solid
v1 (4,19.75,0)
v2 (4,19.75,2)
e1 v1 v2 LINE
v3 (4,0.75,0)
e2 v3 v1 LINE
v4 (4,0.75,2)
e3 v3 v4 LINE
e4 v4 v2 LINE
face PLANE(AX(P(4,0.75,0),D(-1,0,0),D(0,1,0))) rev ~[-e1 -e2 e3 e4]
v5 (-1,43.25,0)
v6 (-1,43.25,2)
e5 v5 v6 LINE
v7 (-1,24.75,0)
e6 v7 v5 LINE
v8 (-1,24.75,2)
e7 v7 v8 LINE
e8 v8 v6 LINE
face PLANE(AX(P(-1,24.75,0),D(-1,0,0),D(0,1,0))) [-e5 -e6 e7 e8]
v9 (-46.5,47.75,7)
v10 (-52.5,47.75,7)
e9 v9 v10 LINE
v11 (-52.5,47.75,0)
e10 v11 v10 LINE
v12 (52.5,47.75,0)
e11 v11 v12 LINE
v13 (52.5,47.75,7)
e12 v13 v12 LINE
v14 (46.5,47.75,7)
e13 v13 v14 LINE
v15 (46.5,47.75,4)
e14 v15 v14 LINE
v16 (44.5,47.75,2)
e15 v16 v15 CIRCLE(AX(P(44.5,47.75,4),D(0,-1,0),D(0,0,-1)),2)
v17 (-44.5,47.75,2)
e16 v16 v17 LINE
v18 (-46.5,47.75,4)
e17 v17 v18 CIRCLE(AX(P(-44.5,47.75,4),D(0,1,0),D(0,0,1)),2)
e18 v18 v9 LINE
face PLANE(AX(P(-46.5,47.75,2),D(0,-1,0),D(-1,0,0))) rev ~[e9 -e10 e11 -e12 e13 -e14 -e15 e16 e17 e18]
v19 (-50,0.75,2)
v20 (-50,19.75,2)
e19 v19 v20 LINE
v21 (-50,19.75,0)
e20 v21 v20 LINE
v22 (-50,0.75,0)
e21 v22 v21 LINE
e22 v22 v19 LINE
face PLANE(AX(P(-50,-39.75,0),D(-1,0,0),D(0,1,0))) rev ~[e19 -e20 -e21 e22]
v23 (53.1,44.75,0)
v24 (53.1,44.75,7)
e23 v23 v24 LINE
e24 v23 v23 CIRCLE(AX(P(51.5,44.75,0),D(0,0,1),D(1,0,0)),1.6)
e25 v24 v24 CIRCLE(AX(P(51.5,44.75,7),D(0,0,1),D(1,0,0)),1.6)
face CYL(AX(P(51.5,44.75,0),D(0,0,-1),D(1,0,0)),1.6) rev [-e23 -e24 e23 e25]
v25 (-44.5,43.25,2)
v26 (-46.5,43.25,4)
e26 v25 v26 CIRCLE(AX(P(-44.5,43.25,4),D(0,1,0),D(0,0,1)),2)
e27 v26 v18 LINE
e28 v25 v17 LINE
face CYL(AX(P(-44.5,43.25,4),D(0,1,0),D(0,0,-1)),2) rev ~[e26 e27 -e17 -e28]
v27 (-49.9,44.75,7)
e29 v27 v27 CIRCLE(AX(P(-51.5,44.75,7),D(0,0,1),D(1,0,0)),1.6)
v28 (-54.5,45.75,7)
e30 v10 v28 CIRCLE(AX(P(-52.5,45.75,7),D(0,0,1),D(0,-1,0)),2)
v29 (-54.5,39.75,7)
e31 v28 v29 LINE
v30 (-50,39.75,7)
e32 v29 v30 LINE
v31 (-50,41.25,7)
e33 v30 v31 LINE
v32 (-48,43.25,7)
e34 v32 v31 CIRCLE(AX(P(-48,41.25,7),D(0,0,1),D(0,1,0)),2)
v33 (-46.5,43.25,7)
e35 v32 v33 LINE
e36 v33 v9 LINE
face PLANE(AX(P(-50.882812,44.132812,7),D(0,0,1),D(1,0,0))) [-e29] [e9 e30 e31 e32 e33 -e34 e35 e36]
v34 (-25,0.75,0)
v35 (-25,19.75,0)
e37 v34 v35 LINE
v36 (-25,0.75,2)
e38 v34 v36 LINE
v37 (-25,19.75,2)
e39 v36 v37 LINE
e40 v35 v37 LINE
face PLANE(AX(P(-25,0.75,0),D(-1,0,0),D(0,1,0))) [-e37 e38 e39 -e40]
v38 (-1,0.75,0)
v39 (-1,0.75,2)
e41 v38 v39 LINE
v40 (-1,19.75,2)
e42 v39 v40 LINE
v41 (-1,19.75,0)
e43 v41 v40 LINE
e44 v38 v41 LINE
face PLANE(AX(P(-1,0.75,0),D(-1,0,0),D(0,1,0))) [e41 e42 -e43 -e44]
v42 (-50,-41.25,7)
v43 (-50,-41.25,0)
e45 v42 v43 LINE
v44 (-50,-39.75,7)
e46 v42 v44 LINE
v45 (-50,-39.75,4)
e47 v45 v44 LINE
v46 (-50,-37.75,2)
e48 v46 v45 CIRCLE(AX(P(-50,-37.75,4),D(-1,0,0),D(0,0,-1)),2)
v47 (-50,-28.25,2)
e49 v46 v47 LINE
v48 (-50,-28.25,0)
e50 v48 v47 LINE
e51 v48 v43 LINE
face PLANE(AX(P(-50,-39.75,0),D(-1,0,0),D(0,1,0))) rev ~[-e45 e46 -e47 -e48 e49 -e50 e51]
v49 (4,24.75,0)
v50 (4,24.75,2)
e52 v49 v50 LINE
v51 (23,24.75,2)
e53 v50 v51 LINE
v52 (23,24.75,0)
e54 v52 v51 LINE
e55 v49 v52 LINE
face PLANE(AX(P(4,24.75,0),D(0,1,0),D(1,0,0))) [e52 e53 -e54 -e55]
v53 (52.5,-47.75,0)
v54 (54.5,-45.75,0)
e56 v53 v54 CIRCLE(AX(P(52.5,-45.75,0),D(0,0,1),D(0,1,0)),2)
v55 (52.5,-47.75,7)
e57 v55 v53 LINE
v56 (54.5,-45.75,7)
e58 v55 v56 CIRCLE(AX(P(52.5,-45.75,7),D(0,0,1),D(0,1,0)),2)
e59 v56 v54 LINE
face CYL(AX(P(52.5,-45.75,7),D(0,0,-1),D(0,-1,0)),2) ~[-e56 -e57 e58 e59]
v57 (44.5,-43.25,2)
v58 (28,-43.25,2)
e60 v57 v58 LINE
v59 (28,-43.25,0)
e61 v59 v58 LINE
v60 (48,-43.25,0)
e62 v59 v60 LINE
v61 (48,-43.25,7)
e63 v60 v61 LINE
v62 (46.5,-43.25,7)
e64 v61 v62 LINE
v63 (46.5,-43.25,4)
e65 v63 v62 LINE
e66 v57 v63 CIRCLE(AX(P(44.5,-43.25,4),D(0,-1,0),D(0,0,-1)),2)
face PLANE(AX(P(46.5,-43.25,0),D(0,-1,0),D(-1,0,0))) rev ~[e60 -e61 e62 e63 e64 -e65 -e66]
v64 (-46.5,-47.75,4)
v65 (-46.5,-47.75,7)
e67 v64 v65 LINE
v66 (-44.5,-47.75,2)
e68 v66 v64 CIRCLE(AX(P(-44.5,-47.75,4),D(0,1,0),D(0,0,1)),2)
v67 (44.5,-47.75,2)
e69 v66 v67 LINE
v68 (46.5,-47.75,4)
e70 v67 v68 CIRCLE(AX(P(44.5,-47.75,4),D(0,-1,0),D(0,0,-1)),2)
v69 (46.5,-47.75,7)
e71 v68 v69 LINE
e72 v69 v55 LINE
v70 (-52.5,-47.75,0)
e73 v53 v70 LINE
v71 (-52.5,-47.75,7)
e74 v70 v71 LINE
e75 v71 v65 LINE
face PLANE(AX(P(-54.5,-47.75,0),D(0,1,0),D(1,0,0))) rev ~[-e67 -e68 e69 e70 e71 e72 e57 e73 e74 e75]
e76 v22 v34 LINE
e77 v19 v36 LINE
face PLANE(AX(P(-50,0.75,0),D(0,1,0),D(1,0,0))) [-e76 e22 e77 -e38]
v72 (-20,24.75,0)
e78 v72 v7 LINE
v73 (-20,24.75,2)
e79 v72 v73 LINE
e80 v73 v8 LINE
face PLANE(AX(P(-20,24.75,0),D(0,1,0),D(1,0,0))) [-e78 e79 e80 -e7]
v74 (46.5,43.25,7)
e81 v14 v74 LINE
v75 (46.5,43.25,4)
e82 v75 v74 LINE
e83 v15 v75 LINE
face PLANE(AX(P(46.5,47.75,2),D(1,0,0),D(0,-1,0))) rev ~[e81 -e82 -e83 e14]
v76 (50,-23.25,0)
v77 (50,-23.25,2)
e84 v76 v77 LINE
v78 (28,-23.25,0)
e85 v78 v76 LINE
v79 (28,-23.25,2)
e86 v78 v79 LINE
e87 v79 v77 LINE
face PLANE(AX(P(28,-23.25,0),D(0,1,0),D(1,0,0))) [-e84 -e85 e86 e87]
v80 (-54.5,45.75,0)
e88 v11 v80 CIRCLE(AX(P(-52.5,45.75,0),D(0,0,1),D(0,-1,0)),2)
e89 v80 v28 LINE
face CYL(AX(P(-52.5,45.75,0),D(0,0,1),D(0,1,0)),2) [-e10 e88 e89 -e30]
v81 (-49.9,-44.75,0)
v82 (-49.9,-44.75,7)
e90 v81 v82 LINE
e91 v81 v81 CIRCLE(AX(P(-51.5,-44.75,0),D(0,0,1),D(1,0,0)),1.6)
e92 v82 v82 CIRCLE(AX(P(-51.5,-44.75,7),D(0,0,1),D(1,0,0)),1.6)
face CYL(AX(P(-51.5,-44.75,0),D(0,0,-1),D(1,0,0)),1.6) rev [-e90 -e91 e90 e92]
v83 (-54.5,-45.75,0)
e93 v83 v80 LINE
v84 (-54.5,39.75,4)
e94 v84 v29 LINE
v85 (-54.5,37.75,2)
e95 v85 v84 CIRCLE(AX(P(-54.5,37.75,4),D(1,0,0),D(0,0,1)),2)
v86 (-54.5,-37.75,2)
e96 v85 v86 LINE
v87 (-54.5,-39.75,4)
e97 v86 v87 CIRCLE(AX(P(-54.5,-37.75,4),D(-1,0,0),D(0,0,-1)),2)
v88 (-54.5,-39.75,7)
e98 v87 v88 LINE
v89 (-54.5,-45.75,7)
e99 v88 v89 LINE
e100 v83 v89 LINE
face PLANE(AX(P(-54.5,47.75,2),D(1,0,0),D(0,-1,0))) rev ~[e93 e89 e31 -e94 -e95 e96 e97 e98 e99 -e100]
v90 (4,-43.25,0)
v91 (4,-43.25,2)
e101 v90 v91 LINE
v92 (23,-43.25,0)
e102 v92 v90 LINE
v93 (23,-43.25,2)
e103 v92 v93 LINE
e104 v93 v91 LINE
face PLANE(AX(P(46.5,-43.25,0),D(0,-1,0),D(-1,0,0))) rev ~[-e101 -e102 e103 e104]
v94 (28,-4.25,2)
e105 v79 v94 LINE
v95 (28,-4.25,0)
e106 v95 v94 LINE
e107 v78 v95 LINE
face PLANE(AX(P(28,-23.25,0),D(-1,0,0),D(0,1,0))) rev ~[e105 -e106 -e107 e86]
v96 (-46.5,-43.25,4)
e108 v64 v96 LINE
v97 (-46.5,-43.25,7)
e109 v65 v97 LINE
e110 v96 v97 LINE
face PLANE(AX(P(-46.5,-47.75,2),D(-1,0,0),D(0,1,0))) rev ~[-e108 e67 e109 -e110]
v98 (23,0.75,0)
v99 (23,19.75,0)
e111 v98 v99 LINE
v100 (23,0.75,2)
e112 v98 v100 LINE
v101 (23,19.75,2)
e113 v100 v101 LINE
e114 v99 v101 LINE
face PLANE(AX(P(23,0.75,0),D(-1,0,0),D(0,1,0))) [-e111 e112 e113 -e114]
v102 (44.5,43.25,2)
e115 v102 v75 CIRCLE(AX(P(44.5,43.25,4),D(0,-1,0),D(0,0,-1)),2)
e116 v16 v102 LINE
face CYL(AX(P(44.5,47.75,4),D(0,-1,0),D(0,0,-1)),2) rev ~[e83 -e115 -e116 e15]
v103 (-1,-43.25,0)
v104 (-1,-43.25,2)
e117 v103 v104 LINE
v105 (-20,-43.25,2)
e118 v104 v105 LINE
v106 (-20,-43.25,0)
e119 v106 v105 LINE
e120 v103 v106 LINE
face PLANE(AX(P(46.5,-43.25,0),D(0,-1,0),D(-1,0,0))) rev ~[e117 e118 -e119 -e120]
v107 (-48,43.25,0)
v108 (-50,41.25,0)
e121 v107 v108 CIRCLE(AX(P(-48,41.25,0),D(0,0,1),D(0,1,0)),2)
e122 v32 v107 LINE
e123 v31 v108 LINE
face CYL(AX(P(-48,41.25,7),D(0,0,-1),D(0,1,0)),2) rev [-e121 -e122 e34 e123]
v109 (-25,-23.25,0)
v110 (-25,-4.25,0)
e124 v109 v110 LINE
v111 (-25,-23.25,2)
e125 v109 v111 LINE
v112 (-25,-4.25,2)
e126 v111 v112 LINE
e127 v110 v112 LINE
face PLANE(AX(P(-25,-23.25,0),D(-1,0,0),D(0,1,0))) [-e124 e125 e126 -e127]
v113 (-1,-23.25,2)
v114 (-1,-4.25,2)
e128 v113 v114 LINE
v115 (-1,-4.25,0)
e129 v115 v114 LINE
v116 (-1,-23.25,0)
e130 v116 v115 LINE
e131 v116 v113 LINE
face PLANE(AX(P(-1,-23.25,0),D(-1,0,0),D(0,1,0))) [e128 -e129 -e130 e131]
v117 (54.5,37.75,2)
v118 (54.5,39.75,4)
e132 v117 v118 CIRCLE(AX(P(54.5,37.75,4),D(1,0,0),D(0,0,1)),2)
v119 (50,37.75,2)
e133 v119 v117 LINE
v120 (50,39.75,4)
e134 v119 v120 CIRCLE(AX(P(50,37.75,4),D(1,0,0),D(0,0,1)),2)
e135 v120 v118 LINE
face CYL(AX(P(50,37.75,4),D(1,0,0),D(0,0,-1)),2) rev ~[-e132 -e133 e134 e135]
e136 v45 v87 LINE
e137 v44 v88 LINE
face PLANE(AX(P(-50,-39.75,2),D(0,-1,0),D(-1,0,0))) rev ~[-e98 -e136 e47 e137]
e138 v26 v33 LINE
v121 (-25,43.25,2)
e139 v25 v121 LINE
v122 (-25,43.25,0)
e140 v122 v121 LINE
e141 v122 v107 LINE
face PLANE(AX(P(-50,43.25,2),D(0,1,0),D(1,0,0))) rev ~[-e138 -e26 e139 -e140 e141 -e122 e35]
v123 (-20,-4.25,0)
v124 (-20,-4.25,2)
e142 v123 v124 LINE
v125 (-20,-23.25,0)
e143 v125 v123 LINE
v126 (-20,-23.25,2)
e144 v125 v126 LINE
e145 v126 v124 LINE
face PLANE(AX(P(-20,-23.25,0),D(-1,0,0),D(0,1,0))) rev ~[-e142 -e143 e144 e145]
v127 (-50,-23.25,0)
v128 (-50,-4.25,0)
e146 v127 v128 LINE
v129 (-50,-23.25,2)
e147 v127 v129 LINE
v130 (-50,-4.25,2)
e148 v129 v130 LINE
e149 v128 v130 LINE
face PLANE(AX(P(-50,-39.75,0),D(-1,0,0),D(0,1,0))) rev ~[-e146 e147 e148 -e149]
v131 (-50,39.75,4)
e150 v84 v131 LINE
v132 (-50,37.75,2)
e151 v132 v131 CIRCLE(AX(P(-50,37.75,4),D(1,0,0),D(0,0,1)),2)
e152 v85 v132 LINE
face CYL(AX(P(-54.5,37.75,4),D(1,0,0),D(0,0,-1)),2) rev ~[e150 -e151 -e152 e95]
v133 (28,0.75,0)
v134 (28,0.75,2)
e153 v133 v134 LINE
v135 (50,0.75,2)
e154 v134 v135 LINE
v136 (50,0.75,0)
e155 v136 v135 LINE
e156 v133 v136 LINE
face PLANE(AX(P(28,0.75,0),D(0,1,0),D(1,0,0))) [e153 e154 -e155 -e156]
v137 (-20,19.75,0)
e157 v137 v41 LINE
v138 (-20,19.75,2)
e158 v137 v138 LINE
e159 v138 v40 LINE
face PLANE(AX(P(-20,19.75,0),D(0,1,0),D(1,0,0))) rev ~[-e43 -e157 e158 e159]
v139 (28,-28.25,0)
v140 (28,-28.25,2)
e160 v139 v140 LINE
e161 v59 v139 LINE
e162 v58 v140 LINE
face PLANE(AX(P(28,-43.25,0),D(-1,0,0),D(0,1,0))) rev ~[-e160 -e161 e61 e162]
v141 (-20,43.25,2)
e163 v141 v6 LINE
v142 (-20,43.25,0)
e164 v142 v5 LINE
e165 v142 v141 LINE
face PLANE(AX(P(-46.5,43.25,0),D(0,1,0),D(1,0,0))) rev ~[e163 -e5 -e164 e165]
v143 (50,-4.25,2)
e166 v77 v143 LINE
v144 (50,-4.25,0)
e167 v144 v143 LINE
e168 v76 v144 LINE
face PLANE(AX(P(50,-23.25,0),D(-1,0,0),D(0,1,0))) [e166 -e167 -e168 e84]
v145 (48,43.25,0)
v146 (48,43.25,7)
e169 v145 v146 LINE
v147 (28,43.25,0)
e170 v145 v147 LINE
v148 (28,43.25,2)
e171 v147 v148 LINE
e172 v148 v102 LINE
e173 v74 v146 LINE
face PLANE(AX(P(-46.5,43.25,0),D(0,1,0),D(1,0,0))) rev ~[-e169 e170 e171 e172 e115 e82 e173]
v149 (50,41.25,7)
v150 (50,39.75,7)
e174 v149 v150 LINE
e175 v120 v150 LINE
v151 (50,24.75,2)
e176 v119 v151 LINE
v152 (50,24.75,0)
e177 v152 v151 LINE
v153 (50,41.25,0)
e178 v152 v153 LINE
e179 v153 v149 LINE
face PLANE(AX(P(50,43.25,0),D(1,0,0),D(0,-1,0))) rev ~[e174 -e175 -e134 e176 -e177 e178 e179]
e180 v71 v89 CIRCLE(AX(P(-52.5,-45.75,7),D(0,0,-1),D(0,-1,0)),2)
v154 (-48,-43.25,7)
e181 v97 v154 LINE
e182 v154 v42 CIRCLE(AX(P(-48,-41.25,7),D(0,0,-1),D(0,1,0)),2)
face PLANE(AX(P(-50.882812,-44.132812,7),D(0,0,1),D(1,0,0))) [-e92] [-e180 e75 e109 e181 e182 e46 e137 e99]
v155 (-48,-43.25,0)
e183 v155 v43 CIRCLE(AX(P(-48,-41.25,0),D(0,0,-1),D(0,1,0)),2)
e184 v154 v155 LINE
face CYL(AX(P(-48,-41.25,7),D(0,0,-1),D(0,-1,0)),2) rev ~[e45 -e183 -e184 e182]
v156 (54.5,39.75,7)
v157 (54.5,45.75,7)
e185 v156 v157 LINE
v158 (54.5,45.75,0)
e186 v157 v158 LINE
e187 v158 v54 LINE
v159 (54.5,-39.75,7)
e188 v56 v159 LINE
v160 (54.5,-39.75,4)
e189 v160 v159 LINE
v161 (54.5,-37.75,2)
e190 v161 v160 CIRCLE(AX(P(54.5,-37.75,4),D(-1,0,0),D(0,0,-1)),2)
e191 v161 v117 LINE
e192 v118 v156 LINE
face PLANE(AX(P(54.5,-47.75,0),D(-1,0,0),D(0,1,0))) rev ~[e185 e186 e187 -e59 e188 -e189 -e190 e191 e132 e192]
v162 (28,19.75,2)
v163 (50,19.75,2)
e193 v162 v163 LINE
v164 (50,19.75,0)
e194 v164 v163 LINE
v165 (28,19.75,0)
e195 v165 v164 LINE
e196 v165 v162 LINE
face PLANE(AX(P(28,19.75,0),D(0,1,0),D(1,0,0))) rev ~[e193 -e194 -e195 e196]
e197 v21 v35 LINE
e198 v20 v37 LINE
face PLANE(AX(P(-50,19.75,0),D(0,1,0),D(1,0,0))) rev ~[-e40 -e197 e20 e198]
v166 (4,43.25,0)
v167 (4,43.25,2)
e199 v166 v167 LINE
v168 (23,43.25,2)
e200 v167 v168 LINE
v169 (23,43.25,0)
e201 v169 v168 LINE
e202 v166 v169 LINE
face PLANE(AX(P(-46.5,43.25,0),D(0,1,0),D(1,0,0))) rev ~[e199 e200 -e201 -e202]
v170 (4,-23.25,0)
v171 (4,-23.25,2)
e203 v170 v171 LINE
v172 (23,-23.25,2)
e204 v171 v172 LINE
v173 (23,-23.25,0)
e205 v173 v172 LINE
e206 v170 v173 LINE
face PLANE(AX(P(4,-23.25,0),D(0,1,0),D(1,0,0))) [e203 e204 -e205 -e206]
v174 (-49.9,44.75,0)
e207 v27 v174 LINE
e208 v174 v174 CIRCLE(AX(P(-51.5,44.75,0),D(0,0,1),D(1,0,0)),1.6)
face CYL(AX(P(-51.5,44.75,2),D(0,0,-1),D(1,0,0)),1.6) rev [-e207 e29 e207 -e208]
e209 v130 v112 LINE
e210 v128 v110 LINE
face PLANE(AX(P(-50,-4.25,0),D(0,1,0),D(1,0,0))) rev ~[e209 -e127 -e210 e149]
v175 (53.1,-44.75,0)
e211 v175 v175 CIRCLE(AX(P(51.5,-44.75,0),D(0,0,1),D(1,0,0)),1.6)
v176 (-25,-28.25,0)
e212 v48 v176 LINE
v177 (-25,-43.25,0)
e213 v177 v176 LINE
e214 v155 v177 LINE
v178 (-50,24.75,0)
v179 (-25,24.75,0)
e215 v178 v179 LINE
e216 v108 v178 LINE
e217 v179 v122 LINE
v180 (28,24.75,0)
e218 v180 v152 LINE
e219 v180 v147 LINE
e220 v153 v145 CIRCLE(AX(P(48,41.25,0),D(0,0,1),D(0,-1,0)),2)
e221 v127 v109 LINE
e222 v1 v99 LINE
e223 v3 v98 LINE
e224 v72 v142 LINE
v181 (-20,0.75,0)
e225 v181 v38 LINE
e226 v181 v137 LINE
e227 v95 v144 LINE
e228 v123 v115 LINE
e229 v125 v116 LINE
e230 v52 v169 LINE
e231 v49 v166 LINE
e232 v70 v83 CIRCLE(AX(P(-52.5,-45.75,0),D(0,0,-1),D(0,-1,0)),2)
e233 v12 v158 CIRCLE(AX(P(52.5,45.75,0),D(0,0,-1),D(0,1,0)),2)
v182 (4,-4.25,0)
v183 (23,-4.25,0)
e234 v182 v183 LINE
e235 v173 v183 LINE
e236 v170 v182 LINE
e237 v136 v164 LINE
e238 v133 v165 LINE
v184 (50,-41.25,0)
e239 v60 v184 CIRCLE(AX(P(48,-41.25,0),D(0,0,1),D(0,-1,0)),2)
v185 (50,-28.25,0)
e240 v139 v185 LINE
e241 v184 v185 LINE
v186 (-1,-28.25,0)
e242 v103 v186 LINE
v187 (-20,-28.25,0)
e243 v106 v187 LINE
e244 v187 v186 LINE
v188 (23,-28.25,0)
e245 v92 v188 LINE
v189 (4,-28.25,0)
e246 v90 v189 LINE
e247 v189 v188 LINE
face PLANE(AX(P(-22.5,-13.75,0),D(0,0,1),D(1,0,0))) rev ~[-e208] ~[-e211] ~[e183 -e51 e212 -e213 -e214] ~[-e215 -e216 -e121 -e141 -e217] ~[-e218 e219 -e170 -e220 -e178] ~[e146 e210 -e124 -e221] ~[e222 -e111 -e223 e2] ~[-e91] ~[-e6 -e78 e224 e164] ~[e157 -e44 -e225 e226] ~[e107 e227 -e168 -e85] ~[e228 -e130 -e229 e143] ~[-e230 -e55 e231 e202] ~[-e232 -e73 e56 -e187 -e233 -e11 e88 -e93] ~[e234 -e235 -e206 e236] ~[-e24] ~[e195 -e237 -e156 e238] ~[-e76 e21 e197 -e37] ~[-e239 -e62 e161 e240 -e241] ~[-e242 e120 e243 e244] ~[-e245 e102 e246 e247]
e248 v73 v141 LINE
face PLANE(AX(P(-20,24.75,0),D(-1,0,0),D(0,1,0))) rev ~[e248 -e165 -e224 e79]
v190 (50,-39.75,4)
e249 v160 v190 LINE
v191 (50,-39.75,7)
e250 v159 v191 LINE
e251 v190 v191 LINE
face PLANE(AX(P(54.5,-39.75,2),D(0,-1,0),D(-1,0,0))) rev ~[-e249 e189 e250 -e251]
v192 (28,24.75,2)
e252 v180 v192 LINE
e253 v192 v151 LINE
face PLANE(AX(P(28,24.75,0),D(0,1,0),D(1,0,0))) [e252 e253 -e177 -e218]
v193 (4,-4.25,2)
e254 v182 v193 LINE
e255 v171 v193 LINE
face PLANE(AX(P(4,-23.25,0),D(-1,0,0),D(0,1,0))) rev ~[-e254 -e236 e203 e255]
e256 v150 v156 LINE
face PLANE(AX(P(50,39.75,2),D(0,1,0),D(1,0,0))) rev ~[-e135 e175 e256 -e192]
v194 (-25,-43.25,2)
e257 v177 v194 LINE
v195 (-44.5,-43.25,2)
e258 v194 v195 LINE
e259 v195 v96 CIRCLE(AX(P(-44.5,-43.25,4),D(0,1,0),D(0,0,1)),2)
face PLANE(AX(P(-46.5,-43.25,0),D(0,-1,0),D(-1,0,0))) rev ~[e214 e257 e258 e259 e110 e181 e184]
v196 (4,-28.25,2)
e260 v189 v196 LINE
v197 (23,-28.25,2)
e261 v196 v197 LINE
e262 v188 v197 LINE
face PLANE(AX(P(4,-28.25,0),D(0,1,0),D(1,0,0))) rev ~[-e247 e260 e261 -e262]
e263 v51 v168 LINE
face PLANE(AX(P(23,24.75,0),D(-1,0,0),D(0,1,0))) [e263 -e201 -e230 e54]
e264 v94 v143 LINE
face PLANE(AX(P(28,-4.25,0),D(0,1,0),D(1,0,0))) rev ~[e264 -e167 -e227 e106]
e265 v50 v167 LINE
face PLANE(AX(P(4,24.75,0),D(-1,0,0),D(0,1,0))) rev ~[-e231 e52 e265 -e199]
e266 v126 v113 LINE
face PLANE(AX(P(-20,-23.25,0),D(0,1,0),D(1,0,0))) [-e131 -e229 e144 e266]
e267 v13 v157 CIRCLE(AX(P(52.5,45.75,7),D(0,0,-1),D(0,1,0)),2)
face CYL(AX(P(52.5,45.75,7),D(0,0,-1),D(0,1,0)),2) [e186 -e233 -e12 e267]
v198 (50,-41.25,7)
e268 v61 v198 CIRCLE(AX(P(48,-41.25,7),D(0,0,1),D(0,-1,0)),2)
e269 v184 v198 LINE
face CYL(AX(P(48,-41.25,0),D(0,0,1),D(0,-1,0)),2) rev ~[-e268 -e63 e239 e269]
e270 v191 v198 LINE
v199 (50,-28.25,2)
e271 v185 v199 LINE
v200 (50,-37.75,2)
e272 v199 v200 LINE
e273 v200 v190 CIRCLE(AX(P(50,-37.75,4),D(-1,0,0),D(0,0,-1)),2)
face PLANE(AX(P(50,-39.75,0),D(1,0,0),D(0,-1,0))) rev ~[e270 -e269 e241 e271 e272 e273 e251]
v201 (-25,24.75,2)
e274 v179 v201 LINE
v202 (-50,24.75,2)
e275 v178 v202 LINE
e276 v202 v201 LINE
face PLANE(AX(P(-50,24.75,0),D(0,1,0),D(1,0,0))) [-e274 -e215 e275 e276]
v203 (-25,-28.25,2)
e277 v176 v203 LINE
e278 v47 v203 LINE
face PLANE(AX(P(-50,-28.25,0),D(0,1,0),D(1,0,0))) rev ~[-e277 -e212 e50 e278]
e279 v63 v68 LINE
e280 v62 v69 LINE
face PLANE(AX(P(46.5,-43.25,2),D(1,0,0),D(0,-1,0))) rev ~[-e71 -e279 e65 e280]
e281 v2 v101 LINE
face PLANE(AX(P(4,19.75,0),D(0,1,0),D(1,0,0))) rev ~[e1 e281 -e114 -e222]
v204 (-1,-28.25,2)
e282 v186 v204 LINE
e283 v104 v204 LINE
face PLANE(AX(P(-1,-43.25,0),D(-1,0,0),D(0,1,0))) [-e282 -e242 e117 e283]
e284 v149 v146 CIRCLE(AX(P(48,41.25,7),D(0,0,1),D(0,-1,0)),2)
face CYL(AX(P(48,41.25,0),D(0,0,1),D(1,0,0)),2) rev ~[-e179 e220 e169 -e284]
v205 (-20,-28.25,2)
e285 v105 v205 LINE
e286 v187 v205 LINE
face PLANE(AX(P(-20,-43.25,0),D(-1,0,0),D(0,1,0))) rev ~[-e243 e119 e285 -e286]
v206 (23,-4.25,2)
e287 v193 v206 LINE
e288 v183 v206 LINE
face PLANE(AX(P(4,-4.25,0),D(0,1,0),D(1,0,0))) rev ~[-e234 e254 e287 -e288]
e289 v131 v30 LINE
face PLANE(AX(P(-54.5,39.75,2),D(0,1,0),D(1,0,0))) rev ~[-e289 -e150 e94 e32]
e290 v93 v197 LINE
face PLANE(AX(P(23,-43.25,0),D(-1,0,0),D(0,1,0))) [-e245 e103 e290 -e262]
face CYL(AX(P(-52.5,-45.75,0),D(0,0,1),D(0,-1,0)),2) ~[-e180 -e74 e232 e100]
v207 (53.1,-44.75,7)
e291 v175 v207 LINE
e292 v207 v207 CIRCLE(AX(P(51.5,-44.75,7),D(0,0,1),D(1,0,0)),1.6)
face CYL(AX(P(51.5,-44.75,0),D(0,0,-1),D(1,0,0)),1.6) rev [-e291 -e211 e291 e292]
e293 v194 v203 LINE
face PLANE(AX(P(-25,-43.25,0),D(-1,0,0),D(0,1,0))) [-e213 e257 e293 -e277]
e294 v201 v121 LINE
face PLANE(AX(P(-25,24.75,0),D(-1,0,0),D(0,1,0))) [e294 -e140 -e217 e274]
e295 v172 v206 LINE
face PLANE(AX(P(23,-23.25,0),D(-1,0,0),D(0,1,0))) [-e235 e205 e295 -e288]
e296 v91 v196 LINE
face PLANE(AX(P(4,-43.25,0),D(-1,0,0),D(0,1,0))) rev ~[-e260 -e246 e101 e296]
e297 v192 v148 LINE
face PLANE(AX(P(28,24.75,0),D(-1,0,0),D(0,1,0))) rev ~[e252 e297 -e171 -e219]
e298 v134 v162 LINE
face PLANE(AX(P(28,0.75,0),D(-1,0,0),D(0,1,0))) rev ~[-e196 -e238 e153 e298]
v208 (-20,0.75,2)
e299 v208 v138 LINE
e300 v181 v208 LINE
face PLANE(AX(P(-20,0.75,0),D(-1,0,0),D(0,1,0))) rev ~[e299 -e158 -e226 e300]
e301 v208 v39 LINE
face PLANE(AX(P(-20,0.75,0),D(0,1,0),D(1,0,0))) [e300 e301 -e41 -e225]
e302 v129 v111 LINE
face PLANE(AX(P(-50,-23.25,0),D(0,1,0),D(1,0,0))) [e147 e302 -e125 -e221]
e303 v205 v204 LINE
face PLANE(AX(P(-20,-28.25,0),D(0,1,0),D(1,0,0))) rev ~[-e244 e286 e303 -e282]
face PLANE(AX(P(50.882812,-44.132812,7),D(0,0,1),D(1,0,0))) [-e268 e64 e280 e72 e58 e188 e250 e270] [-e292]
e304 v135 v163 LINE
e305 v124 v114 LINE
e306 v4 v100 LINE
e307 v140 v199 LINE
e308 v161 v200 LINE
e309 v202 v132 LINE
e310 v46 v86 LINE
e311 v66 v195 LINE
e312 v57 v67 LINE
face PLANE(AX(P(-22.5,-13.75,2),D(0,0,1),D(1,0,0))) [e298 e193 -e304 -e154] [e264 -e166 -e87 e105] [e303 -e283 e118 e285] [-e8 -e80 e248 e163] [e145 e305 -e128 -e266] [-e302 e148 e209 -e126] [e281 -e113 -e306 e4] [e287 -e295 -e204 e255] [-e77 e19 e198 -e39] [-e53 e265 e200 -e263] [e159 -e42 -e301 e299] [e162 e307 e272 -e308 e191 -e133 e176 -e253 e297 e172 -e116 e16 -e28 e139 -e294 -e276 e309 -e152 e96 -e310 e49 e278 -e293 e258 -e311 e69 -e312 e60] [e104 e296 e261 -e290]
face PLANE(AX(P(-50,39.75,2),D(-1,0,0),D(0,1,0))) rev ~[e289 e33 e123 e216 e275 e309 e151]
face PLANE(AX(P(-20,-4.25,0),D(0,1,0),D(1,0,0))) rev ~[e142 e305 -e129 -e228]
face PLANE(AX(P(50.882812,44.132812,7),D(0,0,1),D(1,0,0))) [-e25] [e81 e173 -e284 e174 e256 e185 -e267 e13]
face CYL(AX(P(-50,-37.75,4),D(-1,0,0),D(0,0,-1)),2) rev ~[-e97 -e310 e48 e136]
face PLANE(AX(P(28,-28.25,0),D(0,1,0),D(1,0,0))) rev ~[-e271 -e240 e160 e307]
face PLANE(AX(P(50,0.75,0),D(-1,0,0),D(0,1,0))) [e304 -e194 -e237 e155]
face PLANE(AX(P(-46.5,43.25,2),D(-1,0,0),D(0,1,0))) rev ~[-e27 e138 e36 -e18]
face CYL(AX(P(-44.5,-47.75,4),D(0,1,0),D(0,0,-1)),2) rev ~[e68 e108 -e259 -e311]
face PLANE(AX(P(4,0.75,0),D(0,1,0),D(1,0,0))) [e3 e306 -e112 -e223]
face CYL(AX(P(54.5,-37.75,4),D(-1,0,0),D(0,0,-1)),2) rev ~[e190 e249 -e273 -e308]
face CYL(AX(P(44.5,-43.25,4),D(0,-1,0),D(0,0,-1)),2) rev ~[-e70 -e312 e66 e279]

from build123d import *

# Parameters (mm, degrees)
BASE_SKETCH_R       = 1.6
BASE_SKETCH_W       = 25
BASE_SKETCH_H       = 5
BASE_SKETCH_W_2     = 5
BASE_SKETCH_H_2     = 15
BASE_SKETCH_W_3     = 19
BASE_SKETCH_W_4     = 22
BASE_SKETCH_W_5     = 4.5
BASE_SKETCH_H_3     = 11.5
BASE_SKETCH_H_4     = 19
BASE_SKETCH_H_5     = 18.5
BOSS_EXTRUDE1_DEPTH = 2
BOSS_EXTRUDE2_START = 2
SKETCH1_7_R         = 1.6
BOSS_EXTRUDE2_DEPTH = 5
FILLET1_R           = 2


with BuildPart() as part:
    # Base_Sketch → Boss-Extrude1 (new body)
    # profile 1 of 47: a face of its own
    with BuildSketch(Plane.XY):
        Polygon((-46.5, -43.25), (-46.5, -47.75), (46.5, -47.75), (46.5, -43.25), (28, -43.25), (23, -43.25), (4, -43.25), (-1, -43.25), (-20, -43.25), (-25, -43.25), align=None)
    # profile 2 of 47: a face of its own
    with BuildSketch(Plane.XY):
        Polygon((-50, -39.75), (-54.5, -39.75), (-54.5, -47.75), (-46.5, -47.75), (-46.5, -43.25), (-50, -43.25), align=None)
        with Locations((-51.5, -44.75)):
            Circle(BASE_SKETCH_R, mode=Mode.SUBTRACT)
    # profile 3 of 47: a face of its own
    with BuildSketch(Plane.XY):
        Polygon((-50, 39.75), (-54.5, 39.75), (-54.5, -39.75), (-50, -39.75), (-50, -28.25), (-50, -23.25), (-50, -4.25), (-50, 0.75), (-50, 19.75), (-50, 24.75), align=None)
    # profile 4 of 47: a face of its own
    with BuildSketch(Plane.XY):
        with Locations((-37.5, -25.75)):
            Rectangle(BASE_SKETCH_W, BASE_SKETCH_H)
    # profile 5 of 47: a face of its own
    with BuildSketch(Plane.XY):
        with Locations((-22.5, -25.75)):
            Rectangle(BASE_SKETCH_W_2, BASE_SKETCH_H)
    # profile 6 of 47: a face of its own
    with BuildSketch(Plane.XY):
        with Locations((-22.5, -35.75)):
            Rectangle(BASE_SKETCH_W_2, BASE_SKETCH_H_2)
    # profile 7 of 47: a face of its own
    with BuildSketch(Plane.XY):
        with Locations((-10.5, -25.75)):
            Rectangle(BASE_SKETCH_W_3, BASE_SKETCH_H)
    # profile 8 of 47: a face of its own
    with BuildSketch(Plane.XY):
        with Locations((1.5, -25.75)):
            Rectangle(BASE_SKETCH_W_2, BASE_SKETCH_H)
    # profile 9 of 47: a face of its own
    with BuildSketch(Plane.XY):
        with Locations((1.5, -35.75)):
            Rectangle(BASE_SKETCH_W_2, BASE_SKETCH_H_2)
    # profile 10 of 47: a face of its own
    with BuildSketch(Plane.XY):
        with Locations((13.5, -25.75)):
            Rectangle(BASE_SKETCH_W_3, BASE_SKETCH_H)
    # profile 11 of 47: a face of its own
    with BuildSketch(Plane.XY):
        with Locations((25.5, -25.75)):
            Rectangle(BASE_SKETCH_W_2, BASE_SKETCH_H)
    # profile 12 of 47: a face of its own
    with BuildSketch(Plane.XY):
        with Locations((25.5, -35.75)):
            Rectangle(BASE_SKETCH_W_2, BASE_SKETCH_H_2)
    # profile 13 of 47: a face of its own
    with BuildSketch(Plane.XY):
        with Locations((39, -25.75)):
            Rectangle(BASE_SKETCH_W_4, BASE_SKETCH_H)
    # profile 14 of 47: a face of its own
    with BuildSketch(Plane.XY):
        with Locations((52.25, -25.75)):
            Rectangle(BASE_SKETCH_W_5, BASE_SKETCH_H)
    # profile 15 of 47: a face of its own
    with BuildSketch(Plane.XY):
        with Locations((52.25, -34)):
            Rectangle(BASE_SKETCH_W_5, BASE_SKETCH_H_3)
    # profile 16 of 47: a face of its own
    with BuildSketch(Plane.XY):
        Polygon((46.5, -43.25), (46.5, -47.75), (54.5, -47.75), (54.5, -39.75), (50, -39.75), (50, -43.25), align=None)
        with Locations((51.5, -44.75)):
            Circle(BASE_SKETCH_R, mode=Mode.SUBTRACT)
    # profile 17 of 47: a face of its own
    with BuildSketch(Plane.XY):
        with Locations((52.25, -13.75)):
            Rectangle(BASE_SKETCH_W_5, BASE_SKETCH_H_4)
    # profile 18 of 47: a face of its own
    with BuildSketch(Plane.XY):
        with Locations((52.25, -1.75)):
            Rectangle(BASE_SKETCH_W_5, BASE_SKETCH_H)
    # profile 19 of 47: a face of its own
    with BuildSketch(Plane.XY):
        with Locations((39, -1.75)):
            Rectangle(BASE_SKETCH_W_4, BASE_SKETCH_H)
    # profile 20 of 47: a face of its own
    with BuildSketch(Plane.XY):
        with Locations((25.5, -1.75)):
            Rectangle(BASE_SKETCH_W_2, BASE_SKETCH_H)
    # profile 21 of 47: a face of its own
    with BuildSketch(Plane.XY):
        with Locations((25.5, -13.75)):
            Rectangle(BASE_SKETCH_W_2, BASE_SKETCH_H_4)
    # profile 22 of 47: a face of its own
    with BuildSketch(Plane.XY):
        with Locations((25.5, 10.25)):
            Rectangle(BASE_SKETCH_W_2, BASE_SKETCH_H_4)
    # profile 23 of 47: a face of its own
    with BuildSketch(Plane.XY):
        with Locations((13.5, -1.75)):
            Rectangle(BASE_SKETCH_W_3, BASE_SKETCH_H)
    # profile 24 of 47: a face of its own
    with BuildSketch(Plane.XY):
        with Locations((1.5, -1.75)):
            Rectangle(BASE_SKETCH_W_2, BASE_SKETCH_H)
    # profile 25 of 47: a face of its own
    with BuildSketch(Plane.XY):
        with Locations((1.5, -13.75)):
            Rectangle(BASE_SKETCH_W_2, BASE_SKETCH_H_4)
    # profile 26 of 47: a face of its own
    with BuildSketch(Plane.XY):
        with Locations((52.25, 10.25)):
            Rectangle(BASE_SKETCH_W_5, BASE_SKETCH_H_4)
    # profile 27 of 47: a face of its own
    with BuildSketch(Plane.XY):
        with Locations((52.25, 22.25)):
            Rectangle(BASE_SKETCH_W_5, BASE_SKETCH_H)
    # profile 28 of 47: a face of its own
    with BuildSketch(Plane.XY):
        with Locations((52.25, 32.25)):
            Rectangle(BASE_SKETCH_W_5, BASE_SKETCH_H_2)
    # profile 29 of 47: a face of its own
    with BuildSketch(Plane.XY):
        Polygon((54.5, 47.75), (46.5, 47.75), (46.5, 43.25), (50, 43.25), (50, 39.75), (54.5, 39.75), align=None)
        with Locations((51.5, 44.75)):
            Circle(BASE_SKETCH_R, mode=Mode.SUBTRACT)
    # profile 30 of 47: a face of its own
    with BuildSketch(Plane.XY):
        Polygon((46.5, 47.75), (-46.5, 47.75), (-46.5, 43.25), (-25, 43.25), (-20, 43.25), (-1, 43.25), (4, 43.25), (23, 43.25), (28, 43.25), (46.5, 43.25), align=None)
    # profile 31 of 47: a face of its own
    with BuildSketch(Plane.XY):
        with Locations((39, 22.25)):
            Rectangle(BASE_SKETCH_W_4, BASE_SKETCH_H)
    # profile 32 of 47: a face of its own
    with BuildSketch(Plane.XY):
        with Locations((25.5, 34)):
            Rectangle(BASE_SKETCH_W_2, BASE_SKETCH_H_5)
    # profile 33 of 47: a face of its own
    with BuildSketch(Plane.XY):
        with Locations((25.5, 22.25)):
            Rectangle(BASE_SKETCH_W_2, BASE_SKETCH_H)
    # profile 34 of 47: a face of its own
    with BuildSketch(Plane.XY):
        with Locations((13.5, 22.25)):
            Rectangle(BASE_SKETCH_W_3, BASE_SKETCH_H)
    # profile 35 of 47: a face of its own
    with BuildSketch(Plane.XY):
        with Locations((1.5, 22.25)):
            Rectangle(BASE_SKETCH_W_2, BASE_SKETCH_H)
    # profile 36 of 47: a face of its own
    with BuildSketch(Plane.XY):
        with Locations((1.5, 34)):
            Rectangle(BASE_SKETCH_W_2, BASE_SKETCH_H_5)
    # profile 37 of 47: a face of its own
    with BuildSketch(Plane.XY):
        with Locations((1.5, 10.25)):
            Rectangle(BASE_SKETCH_W_2, BASE_SKETCH_H_4)
    # profile 38 of 47: a face of its own
    with BuildSketch(Plane.XY):
        with Locations((-10.5, 22.25)):
            Rectangle(BASE_SKETCH_W_3, BASE_SKETCH_H)
    # profile 39 of 47: a face of its own
    with BuildSketch(Plane.XY):
        with Locations((-10.5, -1.75)):
            Rectangle(BASE_SKETCH_W_3, BASE_SKETCH_H)
    # profile 40 of 47: a face of its own
    with BuildSketch(Plane.XY):
        with Locations((-22.5, -1.75)):
            Rectangle(BASE_SKETCH_W_2, BASE_SKETCH_H)
    # profile 41 of 47: a face of its own
    with BuildSketch(Plane.XY):
        Polygon((-46.5, 47.75), (-54.5, 47.75), (-54.5, 39.75), (-50, 39.75), (-50, 43.25), (-46.5, 43.25), align=None)
        with Locations((-51.5, 44.75)):
            Circle(BASE_SKETCH_R, mode=Mode.SUBTRACT)
    # profile 42 of 47: a face of its own
    with BuildSketch(Plane.XY):
        with Locations((-37.5, 22.25)):
            Rectangle(BASE_SKETCH_W, BASE_SKETCH_H)
    # profile 43 of 47: a face of its own
    with BuildSketch(Plane.XY):
        with Locations((-22.5, 22.25)):
            Rectangle(BASE_SKETCH_W_2, BASE_SKETCH_H)
    # profile 44 of 47: a face of its own
    with BuildSketch(Plane.XY):
        with Locations((-22.5, 34)):
            Rectangle(BASE_SKETCH_W_2, BASE_SKETCH_H_5)
    # profile 45 of 47: a face of its own
    with BuildSketch(Plane.XY):
        with Locations((-22.5, 10.25)):
            Rectangle(BASE_SKETCH_W_2, BASE_SKETCH_H_4)
    # profile 46 of 47: a face of its own
    with BuildSketch(Plane.XY):
        with Locations((-37.5, -1.75)):
            Rectangle(BASE_SKETCH_W, BASE_SKETCH_H)
    # profile 47 of 47: a face of its own
    with BuildSketch(Plane.XY):
        with Locations((-22.5, -13.75)):
            Rectangle(BASE_SKETCH_W_2, BASE_SKETCH_H_4)
    extrude(amount=BOSS_EXTRUDE1_DEPTH)

    # Sketch1<7> → Boss-Extrude2 (add)
    # profile 1 of 4: a face of its own
    with BuildSketch(Plane.XY.offset(BOSS_EXTRUDE2_START)):
        Polygon((-46.5, 47.75), (-54.5, 47.75), (-54.5, 39.75), (-50, 39.75), (-50, 43.25), (-46.5, 43.25), align=None)
        with Locations((-51.5, 44.75)):
            Circle(SKETCH1_7_R, mode=Mode.SUBTRACT)
    # profile 2 of 4: a face of its own
    with BuildSketch(Plane.XY.offset(BOSS_EXTRUDE2_START)):
        Polygon((54.5, 47.75), (46.5, 47.75), (46.5, 43.25), (50, 43.25), (50, 39.75), (54.5, 39.75), align=None)
        with Locations((51.5, 44.75)):
            Circle(SKETCH1_7_R, mode=Mode.SUBTRACT)
    # profile 3 of 4: a face of its own
    with BuildSketch(Plane.XY.offset(BOSS_EXTRUDE2_START)):
        Polygon((-50, -39.75), (-54.5, -39.75), (-54.5, -47.75), (-46.5, -47.75), (-46.5, -43.25), (-50, -43.25), align=None)
        with Locations((-51.5, -44.75)):
            Circle(SKETCH1_7_R, mode=Mode.SUBTRACT)
    # profile 4 of 4: a face of its own
    with BuildSketch(Plane.XY.offset(BOSS_EXTRUDE2_START)):
        Polygon((46.5, -43.25), (46.5, -47.75), (54.5, -47.75), (54.5, -39.75), (50, -39.75), (50, -43.25), align=None)
        with Locations((51.5, -44.75)):
            Circle(SKETCH1_7_R, mode=Mode.SUBTRACT)
    extrude(amount=BOSS_EXTRUDE2_DEPTH)

    # Fillet1
    fillet1_edges = [part.edges().sort_by_distance(p)[0] for p in [
        (-50, -43.25, 3.5),
        (50, -43.25, 3.5),
        (-50, 43.25, 3.5),
        (50, 43.25, 3.5),
        (54.5, -47.75, 3.5),
        (-54.5, -47.75, 3.5),
        (-54.5, 47.75, 3.5),
        (54.5, 47.75, 3.5),
        (-46.5, 45.5, 2),
        (-52.25, 39.75, 2),
        (52.25, 39.75, 2),
        (46.5, 45.5, 2),
        (-52.25, -39.75, 2),
        (-46.5, -45.5, 2),
        (46.5, -45.5, 2),
        (52.25, -39.75, 2),
    ]]
    fillet(fillet1_edges, radius=FILLET1_R)


solid = part.part
